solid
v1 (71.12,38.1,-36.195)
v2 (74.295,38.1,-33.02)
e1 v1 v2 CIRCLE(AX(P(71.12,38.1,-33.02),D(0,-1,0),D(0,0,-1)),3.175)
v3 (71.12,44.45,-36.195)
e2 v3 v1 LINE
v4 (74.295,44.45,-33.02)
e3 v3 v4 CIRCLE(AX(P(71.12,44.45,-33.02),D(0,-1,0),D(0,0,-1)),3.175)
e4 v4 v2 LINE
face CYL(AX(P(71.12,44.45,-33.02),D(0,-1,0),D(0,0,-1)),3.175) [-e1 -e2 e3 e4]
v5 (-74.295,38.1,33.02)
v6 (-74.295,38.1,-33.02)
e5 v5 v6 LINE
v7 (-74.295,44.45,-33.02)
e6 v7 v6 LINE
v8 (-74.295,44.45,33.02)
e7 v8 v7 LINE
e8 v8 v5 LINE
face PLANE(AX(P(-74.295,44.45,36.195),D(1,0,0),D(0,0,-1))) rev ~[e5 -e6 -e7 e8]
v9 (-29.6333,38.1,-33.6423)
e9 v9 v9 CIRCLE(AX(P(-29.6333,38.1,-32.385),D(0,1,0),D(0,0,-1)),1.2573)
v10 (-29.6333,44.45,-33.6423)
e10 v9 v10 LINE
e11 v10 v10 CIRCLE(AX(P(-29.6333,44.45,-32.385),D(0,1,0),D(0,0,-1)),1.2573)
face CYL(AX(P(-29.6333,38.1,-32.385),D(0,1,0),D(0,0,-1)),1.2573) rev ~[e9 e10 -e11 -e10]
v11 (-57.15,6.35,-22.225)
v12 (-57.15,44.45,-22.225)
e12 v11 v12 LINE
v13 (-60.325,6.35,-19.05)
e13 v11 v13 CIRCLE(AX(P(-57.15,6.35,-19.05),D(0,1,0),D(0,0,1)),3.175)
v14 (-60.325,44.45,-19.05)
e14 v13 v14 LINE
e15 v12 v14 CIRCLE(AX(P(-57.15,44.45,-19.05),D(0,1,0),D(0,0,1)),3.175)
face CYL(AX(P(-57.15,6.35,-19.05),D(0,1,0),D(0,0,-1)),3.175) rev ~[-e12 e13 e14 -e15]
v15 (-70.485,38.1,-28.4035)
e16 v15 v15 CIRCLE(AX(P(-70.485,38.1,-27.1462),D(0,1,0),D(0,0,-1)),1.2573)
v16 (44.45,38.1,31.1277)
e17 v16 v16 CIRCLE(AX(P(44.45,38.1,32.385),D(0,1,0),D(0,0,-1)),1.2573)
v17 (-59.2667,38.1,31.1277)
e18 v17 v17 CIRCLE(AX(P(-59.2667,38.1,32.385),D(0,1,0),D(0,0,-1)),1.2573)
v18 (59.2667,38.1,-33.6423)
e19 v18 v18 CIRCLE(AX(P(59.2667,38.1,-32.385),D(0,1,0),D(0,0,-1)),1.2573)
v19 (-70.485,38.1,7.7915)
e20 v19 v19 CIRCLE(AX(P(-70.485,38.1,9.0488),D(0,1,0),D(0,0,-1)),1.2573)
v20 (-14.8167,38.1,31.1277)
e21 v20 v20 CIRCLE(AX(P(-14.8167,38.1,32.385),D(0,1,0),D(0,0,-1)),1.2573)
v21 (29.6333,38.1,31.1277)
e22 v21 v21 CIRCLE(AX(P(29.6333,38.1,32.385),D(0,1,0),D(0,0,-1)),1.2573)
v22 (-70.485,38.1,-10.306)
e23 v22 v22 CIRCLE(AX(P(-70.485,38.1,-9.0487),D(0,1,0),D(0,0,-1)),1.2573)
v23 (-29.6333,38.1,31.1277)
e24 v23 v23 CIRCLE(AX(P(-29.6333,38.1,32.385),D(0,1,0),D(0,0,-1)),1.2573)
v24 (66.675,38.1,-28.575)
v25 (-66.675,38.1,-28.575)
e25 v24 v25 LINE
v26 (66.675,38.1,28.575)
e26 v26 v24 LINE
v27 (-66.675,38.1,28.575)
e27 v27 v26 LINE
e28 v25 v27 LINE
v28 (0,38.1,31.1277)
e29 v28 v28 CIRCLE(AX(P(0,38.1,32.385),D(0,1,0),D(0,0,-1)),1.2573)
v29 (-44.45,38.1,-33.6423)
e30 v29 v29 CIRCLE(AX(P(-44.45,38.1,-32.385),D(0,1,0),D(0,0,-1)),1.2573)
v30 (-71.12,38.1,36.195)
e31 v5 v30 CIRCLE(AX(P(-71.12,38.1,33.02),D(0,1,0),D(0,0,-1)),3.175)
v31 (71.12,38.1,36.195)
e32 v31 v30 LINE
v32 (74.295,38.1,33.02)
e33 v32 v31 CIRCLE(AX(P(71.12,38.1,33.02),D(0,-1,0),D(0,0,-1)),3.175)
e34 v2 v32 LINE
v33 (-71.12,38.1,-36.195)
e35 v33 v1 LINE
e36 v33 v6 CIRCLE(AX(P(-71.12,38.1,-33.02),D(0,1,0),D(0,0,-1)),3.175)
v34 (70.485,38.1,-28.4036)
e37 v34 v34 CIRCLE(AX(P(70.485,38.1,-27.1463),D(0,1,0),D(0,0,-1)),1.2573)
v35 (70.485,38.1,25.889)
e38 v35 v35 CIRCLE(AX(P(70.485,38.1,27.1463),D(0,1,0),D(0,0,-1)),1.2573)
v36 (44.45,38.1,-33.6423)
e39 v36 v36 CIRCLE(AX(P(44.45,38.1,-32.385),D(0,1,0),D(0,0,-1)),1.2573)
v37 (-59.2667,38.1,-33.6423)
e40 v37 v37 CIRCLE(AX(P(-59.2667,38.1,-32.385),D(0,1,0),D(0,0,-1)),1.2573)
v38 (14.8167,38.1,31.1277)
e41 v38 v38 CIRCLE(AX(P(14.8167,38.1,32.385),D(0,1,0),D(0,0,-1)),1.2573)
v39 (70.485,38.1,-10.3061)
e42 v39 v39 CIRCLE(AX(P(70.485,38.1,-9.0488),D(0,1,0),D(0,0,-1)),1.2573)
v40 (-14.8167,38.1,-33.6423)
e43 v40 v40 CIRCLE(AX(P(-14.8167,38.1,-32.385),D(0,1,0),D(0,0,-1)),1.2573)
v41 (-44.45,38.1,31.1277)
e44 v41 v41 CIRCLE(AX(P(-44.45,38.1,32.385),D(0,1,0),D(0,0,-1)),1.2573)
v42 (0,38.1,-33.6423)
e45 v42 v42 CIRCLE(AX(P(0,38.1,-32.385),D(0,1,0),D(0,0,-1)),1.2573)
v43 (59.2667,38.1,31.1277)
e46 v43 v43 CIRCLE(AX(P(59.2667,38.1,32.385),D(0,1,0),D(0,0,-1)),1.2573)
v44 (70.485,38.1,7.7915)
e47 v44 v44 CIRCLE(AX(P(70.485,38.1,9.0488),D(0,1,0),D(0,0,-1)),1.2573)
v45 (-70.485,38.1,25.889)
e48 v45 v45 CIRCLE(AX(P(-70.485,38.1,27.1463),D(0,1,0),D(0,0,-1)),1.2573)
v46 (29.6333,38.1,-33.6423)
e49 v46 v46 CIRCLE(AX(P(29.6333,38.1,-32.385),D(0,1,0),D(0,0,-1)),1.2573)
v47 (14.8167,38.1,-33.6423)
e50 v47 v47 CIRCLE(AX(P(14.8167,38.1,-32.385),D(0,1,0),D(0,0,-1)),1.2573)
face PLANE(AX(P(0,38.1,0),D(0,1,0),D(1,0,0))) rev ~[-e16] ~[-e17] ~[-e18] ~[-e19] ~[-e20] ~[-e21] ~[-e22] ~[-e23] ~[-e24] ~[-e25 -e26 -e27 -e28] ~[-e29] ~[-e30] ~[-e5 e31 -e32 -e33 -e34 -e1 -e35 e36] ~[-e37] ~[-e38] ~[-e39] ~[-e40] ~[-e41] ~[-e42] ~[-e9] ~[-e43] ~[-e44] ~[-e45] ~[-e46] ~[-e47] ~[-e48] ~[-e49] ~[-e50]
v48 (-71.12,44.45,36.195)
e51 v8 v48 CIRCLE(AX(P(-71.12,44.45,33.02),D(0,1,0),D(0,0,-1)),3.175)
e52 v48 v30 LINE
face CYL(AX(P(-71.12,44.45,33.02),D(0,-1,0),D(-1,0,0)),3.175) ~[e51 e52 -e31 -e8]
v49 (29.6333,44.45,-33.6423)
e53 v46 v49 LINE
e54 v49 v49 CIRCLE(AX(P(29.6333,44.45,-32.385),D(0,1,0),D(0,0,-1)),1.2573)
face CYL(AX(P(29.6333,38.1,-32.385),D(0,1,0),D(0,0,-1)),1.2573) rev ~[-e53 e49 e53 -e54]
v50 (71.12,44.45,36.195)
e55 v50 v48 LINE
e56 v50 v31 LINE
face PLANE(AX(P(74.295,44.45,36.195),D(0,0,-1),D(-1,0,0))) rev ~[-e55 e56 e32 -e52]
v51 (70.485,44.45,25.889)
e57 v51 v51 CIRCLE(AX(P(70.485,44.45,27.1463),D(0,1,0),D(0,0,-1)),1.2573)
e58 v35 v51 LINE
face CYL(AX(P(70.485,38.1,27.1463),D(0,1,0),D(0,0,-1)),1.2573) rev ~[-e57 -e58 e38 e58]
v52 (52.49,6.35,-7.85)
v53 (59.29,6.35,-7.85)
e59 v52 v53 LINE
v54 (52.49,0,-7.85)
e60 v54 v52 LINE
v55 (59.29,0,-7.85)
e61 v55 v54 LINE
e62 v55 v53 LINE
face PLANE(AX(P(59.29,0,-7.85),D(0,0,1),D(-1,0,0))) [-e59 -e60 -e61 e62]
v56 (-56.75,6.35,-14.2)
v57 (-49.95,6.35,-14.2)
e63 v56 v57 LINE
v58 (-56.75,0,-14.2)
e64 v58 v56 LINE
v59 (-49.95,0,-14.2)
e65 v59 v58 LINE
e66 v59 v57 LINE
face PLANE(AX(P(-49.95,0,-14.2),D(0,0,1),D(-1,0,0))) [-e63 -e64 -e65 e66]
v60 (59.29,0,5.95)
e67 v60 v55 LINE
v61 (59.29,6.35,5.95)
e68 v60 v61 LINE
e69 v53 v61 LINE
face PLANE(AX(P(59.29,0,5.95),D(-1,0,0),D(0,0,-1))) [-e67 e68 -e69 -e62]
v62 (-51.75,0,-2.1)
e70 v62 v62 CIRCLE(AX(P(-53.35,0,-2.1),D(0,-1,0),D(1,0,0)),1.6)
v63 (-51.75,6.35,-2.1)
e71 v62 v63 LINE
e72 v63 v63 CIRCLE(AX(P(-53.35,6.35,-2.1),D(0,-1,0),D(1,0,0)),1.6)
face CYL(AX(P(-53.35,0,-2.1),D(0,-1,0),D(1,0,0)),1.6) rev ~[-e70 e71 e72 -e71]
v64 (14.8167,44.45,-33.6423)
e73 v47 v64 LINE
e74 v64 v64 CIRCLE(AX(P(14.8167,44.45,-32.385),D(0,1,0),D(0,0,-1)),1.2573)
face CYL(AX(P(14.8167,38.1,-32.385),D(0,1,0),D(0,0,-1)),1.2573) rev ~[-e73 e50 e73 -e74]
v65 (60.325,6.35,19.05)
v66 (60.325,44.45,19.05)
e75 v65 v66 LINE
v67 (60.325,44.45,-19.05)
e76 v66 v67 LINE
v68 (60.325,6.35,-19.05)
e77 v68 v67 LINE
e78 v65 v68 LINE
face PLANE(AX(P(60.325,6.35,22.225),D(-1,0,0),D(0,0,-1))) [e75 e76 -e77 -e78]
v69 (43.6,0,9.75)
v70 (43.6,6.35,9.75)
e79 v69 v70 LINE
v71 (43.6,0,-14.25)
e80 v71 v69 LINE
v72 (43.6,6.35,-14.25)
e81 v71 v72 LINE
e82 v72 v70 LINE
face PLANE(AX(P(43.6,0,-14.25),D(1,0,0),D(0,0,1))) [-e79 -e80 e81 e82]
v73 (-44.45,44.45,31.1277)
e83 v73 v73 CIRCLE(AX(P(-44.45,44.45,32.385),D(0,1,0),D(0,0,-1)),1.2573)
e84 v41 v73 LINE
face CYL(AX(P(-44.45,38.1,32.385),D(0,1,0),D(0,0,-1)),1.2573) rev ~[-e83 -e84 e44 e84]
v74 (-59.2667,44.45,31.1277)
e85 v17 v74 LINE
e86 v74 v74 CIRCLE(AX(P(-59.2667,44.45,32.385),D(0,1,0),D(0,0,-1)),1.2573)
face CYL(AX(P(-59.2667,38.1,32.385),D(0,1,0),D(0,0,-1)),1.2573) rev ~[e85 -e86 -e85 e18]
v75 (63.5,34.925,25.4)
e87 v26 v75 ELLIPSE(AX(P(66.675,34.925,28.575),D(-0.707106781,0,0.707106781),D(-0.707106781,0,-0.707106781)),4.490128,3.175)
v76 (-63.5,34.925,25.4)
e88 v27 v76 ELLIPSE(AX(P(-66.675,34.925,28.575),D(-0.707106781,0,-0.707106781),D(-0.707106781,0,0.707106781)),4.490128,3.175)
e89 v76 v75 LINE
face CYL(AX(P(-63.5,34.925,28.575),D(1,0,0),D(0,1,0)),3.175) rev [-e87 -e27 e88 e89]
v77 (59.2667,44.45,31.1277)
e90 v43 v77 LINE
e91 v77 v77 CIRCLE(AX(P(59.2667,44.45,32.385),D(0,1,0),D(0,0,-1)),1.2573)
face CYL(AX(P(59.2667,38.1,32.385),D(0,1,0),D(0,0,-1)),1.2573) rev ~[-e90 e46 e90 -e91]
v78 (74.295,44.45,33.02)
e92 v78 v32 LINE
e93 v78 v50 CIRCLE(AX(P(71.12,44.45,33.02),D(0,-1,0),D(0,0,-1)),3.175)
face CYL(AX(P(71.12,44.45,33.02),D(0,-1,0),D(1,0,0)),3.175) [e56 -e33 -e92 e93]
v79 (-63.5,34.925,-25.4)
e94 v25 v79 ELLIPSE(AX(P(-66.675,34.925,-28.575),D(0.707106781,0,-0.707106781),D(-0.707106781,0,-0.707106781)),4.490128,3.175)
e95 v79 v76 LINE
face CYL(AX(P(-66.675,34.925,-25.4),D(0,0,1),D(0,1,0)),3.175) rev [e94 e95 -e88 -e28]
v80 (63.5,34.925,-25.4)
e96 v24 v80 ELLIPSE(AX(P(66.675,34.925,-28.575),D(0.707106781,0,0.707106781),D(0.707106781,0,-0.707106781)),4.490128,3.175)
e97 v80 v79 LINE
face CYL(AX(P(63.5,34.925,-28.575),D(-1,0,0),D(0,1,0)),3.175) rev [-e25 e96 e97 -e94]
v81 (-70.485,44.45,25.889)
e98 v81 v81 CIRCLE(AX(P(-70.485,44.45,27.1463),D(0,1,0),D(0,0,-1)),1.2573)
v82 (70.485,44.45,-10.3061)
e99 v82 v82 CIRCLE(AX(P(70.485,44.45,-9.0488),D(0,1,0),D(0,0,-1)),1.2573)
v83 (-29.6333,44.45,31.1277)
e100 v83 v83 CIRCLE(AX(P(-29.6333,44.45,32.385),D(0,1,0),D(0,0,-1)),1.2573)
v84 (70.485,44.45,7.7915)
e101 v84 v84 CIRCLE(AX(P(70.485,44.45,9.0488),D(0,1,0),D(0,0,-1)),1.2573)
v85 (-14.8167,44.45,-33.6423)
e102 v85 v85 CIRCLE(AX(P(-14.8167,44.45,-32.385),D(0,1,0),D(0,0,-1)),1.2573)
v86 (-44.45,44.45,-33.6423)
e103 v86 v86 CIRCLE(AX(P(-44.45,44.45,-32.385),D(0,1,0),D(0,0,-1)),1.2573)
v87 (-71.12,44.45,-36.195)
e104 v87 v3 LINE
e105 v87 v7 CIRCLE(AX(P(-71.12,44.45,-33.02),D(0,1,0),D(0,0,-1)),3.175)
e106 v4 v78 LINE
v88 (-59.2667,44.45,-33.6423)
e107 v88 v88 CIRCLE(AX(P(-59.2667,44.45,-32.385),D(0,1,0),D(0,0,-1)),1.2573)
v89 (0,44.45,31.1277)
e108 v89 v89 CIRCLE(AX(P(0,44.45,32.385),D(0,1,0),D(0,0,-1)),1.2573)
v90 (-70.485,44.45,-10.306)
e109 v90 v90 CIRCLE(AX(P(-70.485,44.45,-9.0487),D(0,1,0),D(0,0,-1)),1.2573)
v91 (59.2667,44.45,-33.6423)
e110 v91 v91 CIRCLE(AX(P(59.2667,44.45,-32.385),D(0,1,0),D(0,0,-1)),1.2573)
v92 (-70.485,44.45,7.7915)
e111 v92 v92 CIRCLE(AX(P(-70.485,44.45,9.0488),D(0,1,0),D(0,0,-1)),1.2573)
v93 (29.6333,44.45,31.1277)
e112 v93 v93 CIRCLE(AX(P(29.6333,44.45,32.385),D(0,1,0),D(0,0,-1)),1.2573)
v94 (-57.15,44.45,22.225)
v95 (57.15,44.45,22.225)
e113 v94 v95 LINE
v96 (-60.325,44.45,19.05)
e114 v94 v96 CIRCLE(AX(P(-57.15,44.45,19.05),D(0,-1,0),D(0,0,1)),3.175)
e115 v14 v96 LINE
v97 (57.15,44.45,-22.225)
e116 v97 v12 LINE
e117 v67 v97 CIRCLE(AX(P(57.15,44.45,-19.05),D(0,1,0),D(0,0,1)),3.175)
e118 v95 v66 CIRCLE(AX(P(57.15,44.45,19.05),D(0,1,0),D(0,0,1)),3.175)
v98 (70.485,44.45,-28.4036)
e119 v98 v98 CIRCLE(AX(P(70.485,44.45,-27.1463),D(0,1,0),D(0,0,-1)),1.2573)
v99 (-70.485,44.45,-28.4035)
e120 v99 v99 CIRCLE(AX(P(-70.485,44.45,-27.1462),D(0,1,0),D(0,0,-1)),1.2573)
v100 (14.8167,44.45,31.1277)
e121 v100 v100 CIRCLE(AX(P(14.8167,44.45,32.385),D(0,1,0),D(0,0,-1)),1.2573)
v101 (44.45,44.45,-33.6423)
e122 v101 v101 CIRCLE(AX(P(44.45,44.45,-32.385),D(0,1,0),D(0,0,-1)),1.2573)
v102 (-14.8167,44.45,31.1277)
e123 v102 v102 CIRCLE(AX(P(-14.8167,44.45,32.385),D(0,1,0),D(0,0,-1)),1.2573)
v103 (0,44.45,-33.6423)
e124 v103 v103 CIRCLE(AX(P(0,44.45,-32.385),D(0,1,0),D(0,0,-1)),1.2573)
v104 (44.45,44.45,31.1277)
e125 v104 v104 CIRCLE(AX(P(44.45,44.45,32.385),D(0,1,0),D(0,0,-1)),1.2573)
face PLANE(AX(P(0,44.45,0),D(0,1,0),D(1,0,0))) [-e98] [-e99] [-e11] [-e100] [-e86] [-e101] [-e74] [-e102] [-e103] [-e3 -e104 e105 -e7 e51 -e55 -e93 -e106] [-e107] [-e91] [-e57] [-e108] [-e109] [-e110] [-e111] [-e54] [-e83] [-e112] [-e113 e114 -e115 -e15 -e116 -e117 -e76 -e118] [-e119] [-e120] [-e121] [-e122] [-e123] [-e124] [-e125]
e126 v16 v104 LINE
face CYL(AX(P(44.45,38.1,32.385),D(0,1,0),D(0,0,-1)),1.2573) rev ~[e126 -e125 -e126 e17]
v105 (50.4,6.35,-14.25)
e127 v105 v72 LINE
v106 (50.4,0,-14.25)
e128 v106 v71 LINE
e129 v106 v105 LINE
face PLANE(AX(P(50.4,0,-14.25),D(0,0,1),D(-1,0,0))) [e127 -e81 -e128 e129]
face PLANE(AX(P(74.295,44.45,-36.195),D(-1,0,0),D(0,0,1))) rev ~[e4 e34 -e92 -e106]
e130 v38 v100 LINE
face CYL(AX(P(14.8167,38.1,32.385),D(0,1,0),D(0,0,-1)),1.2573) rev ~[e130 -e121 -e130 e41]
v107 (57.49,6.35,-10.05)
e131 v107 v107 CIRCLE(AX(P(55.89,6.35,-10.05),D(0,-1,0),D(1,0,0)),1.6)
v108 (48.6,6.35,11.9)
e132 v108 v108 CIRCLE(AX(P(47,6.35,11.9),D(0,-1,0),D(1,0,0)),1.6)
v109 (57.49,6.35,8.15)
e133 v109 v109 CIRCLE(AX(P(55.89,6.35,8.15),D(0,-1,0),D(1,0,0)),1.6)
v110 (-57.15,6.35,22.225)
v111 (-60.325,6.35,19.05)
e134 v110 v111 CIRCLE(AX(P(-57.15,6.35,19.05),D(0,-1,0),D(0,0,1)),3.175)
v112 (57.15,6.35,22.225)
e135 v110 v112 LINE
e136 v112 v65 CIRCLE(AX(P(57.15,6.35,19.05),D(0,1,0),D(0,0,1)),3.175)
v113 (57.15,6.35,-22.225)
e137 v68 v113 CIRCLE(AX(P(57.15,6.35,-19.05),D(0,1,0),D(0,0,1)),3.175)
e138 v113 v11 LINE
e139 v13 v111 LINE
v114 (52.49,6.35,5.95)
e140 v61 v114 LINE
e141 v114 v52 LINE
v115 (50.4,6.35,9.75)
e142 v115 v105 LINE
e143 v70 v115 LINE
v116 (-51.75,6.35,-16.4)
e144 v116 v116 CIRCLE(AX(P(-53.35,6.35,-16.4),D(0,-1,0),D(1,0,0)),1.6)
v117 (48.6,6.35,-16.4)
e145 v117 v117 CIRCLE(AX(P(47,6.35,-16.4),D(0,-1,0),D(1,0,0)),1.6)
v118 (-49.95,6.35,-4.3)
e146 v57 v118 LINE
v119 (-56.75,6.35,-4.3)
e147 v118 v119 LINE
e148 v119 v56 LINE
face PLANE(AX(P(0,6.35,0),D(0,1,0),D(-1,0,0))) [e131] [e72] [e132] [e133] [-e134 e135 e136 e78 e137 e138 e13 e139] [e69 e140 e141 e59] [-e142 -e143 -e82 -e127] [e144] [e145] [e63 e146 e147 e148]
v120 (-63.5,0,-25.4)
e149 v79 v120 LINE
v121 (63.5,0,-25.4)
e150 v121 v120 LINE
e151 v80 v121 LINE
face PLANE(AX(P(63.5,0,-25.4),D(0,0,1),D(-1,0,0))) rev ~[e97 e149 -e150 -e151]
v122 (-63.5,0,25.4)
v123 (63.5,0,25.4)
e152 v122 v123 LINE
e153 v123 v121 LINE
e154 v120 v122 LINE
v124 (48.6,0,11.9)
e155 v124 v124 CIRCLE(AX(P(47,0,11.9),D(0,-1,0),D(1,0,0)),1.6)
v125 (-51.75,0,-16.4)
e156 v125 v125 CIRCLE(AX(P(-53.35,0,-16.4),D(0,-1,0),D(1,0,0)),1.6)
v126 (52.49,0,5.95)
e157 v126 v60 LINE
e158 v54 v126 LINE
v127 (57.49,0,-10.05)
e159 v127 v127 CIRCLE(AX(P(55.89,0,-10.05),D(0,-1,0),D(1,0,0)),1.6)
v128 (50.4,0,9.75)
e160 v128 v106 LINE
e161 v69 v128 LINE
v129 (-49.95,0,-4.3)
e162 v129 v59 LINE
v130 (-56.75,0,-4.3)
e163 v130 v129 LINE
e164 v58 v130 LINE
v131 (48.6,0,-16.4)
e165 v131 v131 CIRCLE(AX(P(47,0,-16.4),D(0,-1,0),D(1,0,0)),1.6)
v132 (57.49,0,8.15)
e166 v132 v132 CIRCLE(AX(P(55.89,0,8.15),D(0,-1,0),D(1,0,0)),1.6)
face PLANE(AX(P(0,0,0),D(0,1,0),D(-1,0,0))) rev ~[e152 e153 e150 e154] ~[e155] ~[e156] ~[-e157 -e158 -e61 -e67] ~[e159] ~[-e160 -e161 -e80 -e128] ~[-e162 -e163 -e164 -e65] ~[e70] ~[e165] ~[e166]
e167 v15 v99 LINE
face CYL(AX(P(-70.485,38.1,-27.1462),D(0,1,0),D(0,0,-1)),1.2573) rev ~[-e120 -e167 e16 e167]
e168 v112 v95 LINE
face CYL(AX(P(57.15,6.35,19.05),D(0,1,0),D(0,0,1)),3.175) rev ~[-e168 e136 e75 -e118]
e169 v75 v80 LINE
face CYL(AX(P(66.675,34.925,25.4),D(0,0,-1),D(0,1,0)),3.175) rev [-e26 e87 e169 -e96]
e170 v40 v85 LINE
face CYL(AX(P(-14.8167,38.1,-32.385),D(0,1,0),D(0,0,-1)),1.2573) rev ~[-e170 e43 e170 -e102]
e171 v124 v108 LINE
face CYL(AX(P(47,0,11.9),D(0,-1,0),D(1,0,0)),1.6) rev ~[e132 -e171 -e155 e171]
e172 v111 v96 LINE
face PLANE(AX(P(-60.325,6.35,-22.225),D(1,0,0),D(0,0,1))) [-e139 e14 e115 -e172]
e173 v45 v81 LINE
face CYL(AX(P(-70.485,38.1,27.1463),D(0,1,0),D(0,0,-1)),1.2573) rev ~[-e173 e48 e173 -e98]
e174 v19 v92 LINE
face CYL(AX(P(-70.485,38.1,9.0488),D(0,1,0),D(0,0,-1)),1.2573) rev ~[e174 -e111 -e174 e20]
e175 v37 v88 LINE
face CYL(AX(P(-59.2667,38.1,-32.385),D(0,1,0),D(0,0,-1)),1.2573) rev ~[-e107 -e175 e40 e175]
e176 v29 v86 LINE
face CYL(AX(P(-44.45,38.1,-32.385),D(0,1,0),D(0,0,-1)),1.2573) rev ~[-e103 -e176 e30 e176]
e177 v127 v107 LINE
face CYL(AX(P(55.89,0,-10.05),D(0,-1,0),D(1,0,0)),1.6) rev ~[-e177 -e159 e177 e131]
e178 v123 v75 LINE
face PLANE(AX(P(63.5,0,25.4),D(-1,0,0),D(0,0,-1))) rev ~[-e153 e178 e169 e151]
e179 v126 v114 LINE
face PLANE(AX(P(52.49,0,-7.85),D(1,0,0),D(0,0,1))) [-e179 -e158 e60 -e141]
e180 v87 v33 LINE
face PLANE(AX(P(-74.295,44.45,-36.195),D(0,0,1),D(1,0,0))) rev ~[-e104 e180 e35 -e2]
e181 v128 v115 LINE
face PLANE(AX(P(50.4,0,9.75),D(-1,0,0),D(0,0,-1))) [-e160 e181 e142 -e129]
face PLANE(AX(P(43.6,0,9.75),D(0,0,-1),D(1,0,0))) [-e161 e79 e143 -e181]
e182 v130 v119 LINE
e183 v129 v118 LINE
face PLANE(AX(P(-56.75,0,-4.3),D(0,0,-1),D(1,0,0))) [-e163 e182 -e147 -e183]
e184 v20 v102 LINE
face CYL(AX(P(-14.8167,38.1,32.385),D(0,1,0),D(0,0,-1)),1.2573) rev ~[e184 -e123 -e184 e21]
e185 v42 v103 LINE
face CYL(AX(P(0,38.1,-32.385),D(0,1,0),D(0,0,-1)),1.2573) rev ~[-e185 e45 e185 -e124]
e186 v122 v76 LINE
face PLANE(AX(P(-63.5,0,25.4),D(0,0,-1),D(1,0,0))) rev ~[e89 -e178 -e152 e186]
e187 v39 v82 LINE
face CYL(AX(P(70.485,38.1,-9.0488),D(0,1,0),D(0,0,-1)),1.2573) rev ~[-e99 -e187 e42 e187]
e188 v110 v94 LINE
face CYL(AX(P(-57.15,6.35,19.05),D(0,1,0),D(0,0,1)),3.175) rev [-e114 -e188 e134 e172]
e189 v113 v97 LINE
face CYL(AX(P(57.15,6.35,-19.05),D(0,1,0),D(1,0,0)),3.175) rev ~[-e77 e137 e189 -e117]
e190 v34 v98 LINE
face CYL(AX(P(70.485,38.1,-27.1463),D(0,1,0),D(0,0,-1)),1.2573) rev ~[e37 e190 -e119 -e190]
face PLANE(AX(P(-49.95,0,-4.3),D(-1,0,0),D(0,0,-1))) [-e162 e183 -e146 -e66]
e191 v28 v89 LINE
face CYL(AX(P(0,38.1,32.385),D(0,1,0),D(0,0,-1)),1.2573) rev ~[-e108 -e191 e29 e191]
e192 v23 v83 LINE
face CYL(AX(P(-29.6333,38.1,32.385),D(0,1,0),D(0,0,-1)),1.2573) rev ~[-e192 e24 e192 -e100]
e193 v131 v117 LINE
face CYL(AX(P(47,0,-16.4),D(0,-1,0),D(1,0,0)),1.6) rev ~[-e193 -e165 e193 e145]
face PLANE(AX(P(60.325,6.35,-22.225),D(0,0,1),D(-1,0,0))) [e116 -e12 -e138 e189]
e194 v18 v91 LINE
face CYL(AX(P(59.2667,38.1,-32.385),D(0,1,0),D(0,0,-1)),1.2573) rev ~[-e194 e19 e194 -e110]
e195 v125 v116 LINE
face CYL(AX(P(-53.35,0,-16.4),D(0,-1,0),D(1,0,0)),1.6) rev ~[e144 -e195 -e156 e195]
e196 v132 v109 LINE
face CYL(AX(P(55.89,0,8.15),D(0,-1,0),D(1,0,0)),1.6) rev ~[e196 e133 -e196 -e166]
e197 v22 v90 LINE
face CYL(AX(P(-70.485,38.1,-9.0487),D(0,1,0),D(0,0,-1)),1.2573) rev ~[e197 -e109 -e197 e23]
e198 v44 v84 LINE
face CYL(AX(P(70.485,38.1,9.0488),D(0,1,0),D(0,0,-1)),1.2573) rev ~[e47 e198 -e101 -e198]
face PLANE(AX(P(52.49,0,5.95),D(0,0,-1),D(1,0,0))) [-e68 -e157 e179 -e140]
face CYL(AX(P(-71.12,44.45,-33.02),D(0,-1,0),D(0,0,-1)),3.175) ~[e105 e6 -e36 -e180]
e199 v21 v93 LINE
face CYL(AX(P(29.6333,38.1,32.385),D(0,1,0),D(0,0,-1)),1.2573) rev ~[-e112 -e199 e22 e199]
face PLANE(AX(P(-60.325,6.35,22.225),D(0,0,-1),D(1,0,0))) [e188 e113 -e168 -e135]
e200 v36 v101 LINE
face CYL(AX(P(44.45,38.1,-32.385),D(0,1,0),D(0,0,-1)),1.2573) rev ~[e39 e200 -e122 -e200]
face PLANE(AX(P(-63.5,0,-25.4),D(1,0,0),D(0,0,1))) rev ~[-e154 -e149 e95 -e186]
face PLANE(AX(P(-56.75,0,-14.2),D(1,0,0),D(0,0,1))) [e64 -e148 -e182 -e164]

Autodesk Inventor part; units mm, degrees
ref_plane "YZ Plane" through (0, 0, 0) normal (1, 0, 0) x (0, 1, 0)
ref_plane "XZ Plane" through (0, 0, 0) normal (0, 1, 0) x (-1, 0, 0)
ref_plane "XY Plane" through (0, 0, 0) normal (0, 0, 1) x (1, 0, 0)
sketch "Sketch1" plane through (0, 0, 0) normal (0, 1, 0) x (-1, 0, 0)
  line L0 (63.5, 25.4) -> (-63.5, 25.4)
  line L1 (-63.5, 25.4) -> (-63.5, -25.4)
  line L2 (-63.5, -25.4) -> (63.5, -25.4)
  line L3 (63.5, -25.4) -> (63.5, 25.4)
  point P0 (0, 0)
  dimension "d0" = 50.8
  dimension "d1" = 25.4
  dimension "d2" = 63.5
  dimension "d3" = 127
extrude "Extrusion1" add sketch "Sketch1" along normal blind 6.35
sketch "Sketch2" plane through (0, 6.35, 0) normal (0, 1, 0) x (1, 0, 0)
  line L0 (-60.325, -22.225) -> (60.325, -22.225)
  line L1 (60.325, -22.225) -> (60.325, 22.225)
  line L2 (60.325, 22.225) -> (-60.325, 22.225)
  line L3 (-60.325, 22.225) -> (-60.325, -22.225)
  line L4 (-63.5, -25.4) -> (63.5, -25.4) projected
  line L5 (63.5, -25.4) -> (63.5, 25.4) projected
  line L6 (63.5, 25.4) -> (-63.5, 25.4) projected
  line L7 (-63.5, 25.4) -> (-63.5, -25.4) projected
  point P0 (0, 0)
  dimension "d6" = 3.175
  dimension "d7" = 3.175
  dimension "d8" = 3.175
  dimension "d9" = 3.175
extrude "Extrusion2" add sketch "Sketch2" along normal blind 38.1
fillet "Fillet1" radius 3.175 4 edges at (-60.325, 25.4, -22.225) (60.325, 25.4, -22.225) (60.325, 25.4, 22.225) (-60.325, 25.4, 22.225)
sketch "Sketch4" plane through (63.5, 0, -25.4) normal (0, 0, -1) x (-1, 0, 0)
  line L0 (127, 0) -> (127, 44.45) projected
  line L1 (127, 44.45) -> (104.775, 44.45)
  line L2 (104.775, 44.45) -> (104.775, 38.1)
  line L3 (104.775, 38.1) -> (127, 38.1)
  line L4 (127, 38.1) -> (127, 44.45)
  line L5 (74.6125, 44.45) -> (52.3875, 44.45)
  line L6 (52.3875, 44.45) -> (52.3875, 38.1)
  line L7 (52.3875, 38.1) -> (74.6125, 38.1)
  line L8 (74.6125, 38.1) -> (74.6125, 44.45)
  line L9 (22.225, 44.45) -> (0, 44.45)
  line L10 (0, 44.45) -> (0, 38.1)
  line L11 (0, 38.1) -> (22.225, 38.1)
  line L12 (22.225, 38.1) -> (22.225, 44.45)
  point P0 (63.5, 0)
  dimension "d28" = 22.225
  dimension "d29" = 6.35
  dimension "d32" = 52.3875
extrude "Extrusion4" [suppressed]
sketch "Sketch5" plane through (-63.5, 0, -25.4) normal (-1, 0, 0) x (0, 0, 1)
  line L0 (-15.24, 38.1) -> (0, 22.86)
  line L1 (0, 0) -> (0, 44.45) projected
  line L2 (0, 44.45) -> (0, 38.1) projected
  line L3 (0, 22.86) -> (0, 38.1)
  line L4 (0, 38.1) -> (-15.24, 38.1)
  point P0 (25.4, 0)
  dimension "d39" = 15.24
extrude "Extrusion5" [suppressed]
pattern_linear "Rectangular Pattern1" [suppressed]
pattern_linear "Rectangular Pattern2" [suppressed]
sketch "Sketch6" plane through (-60.325, 38.1, -40.64) normal (0, -1, 0) x (1, 0, 0)
  line L0 (123.825, 15.24) -> (-3.175, 15.24) projected
  line L1 (15.875, 0) -> (0, 0) projected
  line L2 (15.875, 0) -> (15.875, 15.24) projected
  line L3 (0, 15.24) -> (0, 0) projected
  point P0 (60.325, 40.64)
  point P1 (7.9375, 7.62)
  point P2 (60.3377, 7.62)
  point P3 (112.7379, 7.62)
  dimension "d48" = 7.62
  dimension "d49" = 15.24
  dimension "d50" = 15.875
  dimension "d51" = 7.9375
  dimension "d54" = 52.4002
hole "Hole1" [suppressed]
fillet "Fillet2" [suppressed]
fillet "Fillet3" [suppressed]
mirror "Mirror1" [suppressed]
fillet "Fillet4" [suppressed]
sketch "Sketch13" plane through (0, 44.45, 0) normal (0, 1, 0) x (1, 0, 0)
  line L0 (-74.295, 36.195) -> (74.295, 36.195)
  line L1 (74.295, 36.195) -> (74.295, -36.195)
  line L2 (74.295, -36.195) -> (-74.295, -36.195)
  line L3 (-74.295, -36.195) -> (-74.295, 36.195)
  line L4 (63.5, 25.4) -> (-63.5, 25.4) projected
  line L5 (-63.5, 25.4) -> (-63.5, -25.4) projected
  line L6 (-63.5, -25.4) -> (63.5, -25.4) projected
  line L7 (63.5, -25.4) -> (63.5, 25.4) projected
  point P0 (0, 0)
  dimension "d81" = 10.795
  dimension "d82" = 10.795
  dimension "d83" = 10.795
  dimension "d84" = 10.795
extrude "Extrusion12" add sketch "Sketch13" against normal blind 6.35
fillet "Fillet5" radius 3.175 8 edges at (63.5, 38.1, 0) (0, 38.1, -25.4) (-63.5, 38.1, 0) (0, 38.1, 25.4) (-74.295, 41.275, 36.195) (-74.295, 41.275, -36.195) (74.295, 41.275, 36.195) (74.295, 41.275, -36.195)
sketch "Sketch14" plane through (0, 38.1, 0) normal (0, -1, 0) x (1, 0, 0)
  line L0 (71.12, 36.195) -> (-71.12, 36.195) projected
  line L1 (66.675, 28.575) -> (-66.675, 28.575) projected
  line L2 (74.295, -33.02) -> (74.295, 33.02) projected
  line L3 (74.295, -33.02) -> (74.295, 33.02) projected
  line L4 (74.295, 0) -> (-74.2494, 0) construction
  line L5 (71.12, -36.195) -> (-71.12, -36.195)
  line L6 (66.675, -28.575) -> (66.675, 28.575) projected
  line L7 (-71.12, -36.195) -> (71.12, -36.195) projected
  line L8 (0, -36.195) -> (0, 36.195) construction
  point P0 (0, 0)
  point P1 (59.2667, 32.385)
  point P2 (44.45, 32.385)
  point P3 (29.6333, 32.385)
  point P4 (14.8167, 32.385)
  point P5 (0, 32.385)
  point P6 (-14.8167, 32.385)
  point P7 (-29.6333, 32.385)
  point P8 (-44.45, 32.385)
  point P9 (-59.2667, 32.385)
  point P10 (59.2667, -32.385)
  point P11 (44.45, -32.385)
  point P12 (29.6333, -32.385)
  point P13 (14.8167, -32.385)
  point P14 (0, -32.385)
  point P15 (-14.8167, -32.385)
  point P16 (-29.6333, -32.385)
  point P17 (-44.45, -32.385)
  point P18 (-59.2667, -32.385)
  point P19 (70.485, -27.1463)
  point P20 (70.485, -9.0488)
  point P21 (70.485, 9.0488)
  point P22 (70.485, 27.1463)
  point P23 (-70.485, -27.1462)
  point P24 (-70.485, -9.0487)
  point P25 (-70.485, 9.0488)
  point P26 (-70.485, 27.1463)
  dimension "d88" = 3.81
  dimension "d89" = 7.62
  dimension "d94" = 14.8167
  dimension "d99" = 118.5333
  dimension "d100" = 59.2667
  dimension "d101" = 7.62
  dimension "d102" = 3.81
  dimension "d103" = 9.0488
  dimension "d106" = 18.0975
  dimension "d111" = 54.2925
  dimension "d112" = 27.1462
hole "Hole2" at (59.2667, 38.1, 32.385) at (44.45, 38.1, 32.385) at (29.6333, 38.1, 32.385) at (14.8167, 38.1, 32.385) at (0, 38.1, 32.385) at (-14.8167, 38.1, 32.385) at (-29.6333, 38.1, 32.385) at (-44.45, 38.1, 32.385) at (-59.2667, 38.1, 32.385) at (-59.2667, 38.1, -32.385) at (-44.45, 38.1, -32.385) at (-29.6333, 38.1, -32.385) at (-14.8167, 38.1, -32.385) at (0, 38.1, -32.385) at (14.8167, 38.1, -32.385) at (29.6333, 38.1, -32.385) at (44.45, 38.1, -32.385) at (59.2667, 38.1, -32.385) at (70.485, 38.1, -27.1463) at (70.485, 38.1, -9.0488) at (70.485, 38.1, 9.0488) at (70.485, 38.1, 27.1463) at (-70.485, 38.1, -27.1462) at (-70.485, 38.1, -9.0487) at (-70.485, 38.1, 9.0488) at (-70.485, 38.1, 27.1463) direction (0, 1, 0) diameter 2.5146 depth 25.4 tip angle 118
sketch "Sketch17" plane through (0, 0, 0) normal (0, -1, 0) x (1, 0, 0)
  line L0 (50.4, -14.25) -> (43.6, -14.25) projected
  line L1 (43.6, -14.25) -> (43.6, 9.75) projected
  line L2 (43.6, 9.75) -> (50.4, 9.75) projected
  line L3 (50.4, 9.75) -> (50.4, -14.25) projected
  point P0 (0, 0)
extrude "Extrusion14" cut sketch "Sketch17" against normal blind 6.35
sketch "Sketch18" plane through (0, 0, 0) normal (0, -1, 0) x (1, 0, 0)
  line L0 (59.29, -7.85) -> (52.49, -7.85) projected
  line L1 (52.49, -7.85) -> (52.49, 5.95) projected
  line L2 (52.49, 5.95) -> (59.29, 5.95) projected
  line L3 (59.29, 5.95) -> (59.29, -7.85) projected
  line L4 (-56.75, -4.3) -> (-49.95, -4.3) projected
  line L5 (-49.95, -4.3) -> (-49.95, -14.2) projected
  line L6 (-49.95, -14.2) -> (-56.75, -14.2) projected
  line L7 (-56.75, -14.2) -> (-56.75, -4.3) projected
  point P0 (0, 0)
extrude "Extrusion15" cut sketch "Sketch18" against normal through all
sketch "Sketch19" plane through (0, 0, 0) normal (0, -1, 0) x (1, 0, 0)
  circle A0 centre (55.89, 8.15) radius 1.6 projected
  circle A1 centre (55.89, -10.05) radius 1.6 projected
  circle A2 centre (-53.35, -2.1) radius 1.6 projected
  circle A3 centre (-53.35, -16.4) radius 1.6 projected
  circle A4 centre (47, -16.4) radius 1.6 projected
  circle A5 centre (47, 11.9) radius 1.6 projected
  point P0 (0, 0)
extrude "Extrusion16" cut sketch "Sketch19" against normal through all
equation "\"d1\" = 0.5 * d0"
equation "\"d2\" = 0.5 * d3"
equation "\"d7\" = d6"
equation "\"d8\" = d6"
equation "\"d9\" = d6"
equation "\"d48\" = 0.5 * d49"
equation "\"d51\" = 0.5 * d50"
equation "\"d81\" = d83"
equation "\"d82\" = d83"
equation "\"d84\" = d83"
equation "\"d88\" = 0.5 * d89"
equation "\"d100\" = 0.5 * d99"
equation "\"d102\" = 0.5 * d101"
equation "\"d112\" = 0.5 * d111"
properties part number "Electronics Box" material "Aluminum 6061"
